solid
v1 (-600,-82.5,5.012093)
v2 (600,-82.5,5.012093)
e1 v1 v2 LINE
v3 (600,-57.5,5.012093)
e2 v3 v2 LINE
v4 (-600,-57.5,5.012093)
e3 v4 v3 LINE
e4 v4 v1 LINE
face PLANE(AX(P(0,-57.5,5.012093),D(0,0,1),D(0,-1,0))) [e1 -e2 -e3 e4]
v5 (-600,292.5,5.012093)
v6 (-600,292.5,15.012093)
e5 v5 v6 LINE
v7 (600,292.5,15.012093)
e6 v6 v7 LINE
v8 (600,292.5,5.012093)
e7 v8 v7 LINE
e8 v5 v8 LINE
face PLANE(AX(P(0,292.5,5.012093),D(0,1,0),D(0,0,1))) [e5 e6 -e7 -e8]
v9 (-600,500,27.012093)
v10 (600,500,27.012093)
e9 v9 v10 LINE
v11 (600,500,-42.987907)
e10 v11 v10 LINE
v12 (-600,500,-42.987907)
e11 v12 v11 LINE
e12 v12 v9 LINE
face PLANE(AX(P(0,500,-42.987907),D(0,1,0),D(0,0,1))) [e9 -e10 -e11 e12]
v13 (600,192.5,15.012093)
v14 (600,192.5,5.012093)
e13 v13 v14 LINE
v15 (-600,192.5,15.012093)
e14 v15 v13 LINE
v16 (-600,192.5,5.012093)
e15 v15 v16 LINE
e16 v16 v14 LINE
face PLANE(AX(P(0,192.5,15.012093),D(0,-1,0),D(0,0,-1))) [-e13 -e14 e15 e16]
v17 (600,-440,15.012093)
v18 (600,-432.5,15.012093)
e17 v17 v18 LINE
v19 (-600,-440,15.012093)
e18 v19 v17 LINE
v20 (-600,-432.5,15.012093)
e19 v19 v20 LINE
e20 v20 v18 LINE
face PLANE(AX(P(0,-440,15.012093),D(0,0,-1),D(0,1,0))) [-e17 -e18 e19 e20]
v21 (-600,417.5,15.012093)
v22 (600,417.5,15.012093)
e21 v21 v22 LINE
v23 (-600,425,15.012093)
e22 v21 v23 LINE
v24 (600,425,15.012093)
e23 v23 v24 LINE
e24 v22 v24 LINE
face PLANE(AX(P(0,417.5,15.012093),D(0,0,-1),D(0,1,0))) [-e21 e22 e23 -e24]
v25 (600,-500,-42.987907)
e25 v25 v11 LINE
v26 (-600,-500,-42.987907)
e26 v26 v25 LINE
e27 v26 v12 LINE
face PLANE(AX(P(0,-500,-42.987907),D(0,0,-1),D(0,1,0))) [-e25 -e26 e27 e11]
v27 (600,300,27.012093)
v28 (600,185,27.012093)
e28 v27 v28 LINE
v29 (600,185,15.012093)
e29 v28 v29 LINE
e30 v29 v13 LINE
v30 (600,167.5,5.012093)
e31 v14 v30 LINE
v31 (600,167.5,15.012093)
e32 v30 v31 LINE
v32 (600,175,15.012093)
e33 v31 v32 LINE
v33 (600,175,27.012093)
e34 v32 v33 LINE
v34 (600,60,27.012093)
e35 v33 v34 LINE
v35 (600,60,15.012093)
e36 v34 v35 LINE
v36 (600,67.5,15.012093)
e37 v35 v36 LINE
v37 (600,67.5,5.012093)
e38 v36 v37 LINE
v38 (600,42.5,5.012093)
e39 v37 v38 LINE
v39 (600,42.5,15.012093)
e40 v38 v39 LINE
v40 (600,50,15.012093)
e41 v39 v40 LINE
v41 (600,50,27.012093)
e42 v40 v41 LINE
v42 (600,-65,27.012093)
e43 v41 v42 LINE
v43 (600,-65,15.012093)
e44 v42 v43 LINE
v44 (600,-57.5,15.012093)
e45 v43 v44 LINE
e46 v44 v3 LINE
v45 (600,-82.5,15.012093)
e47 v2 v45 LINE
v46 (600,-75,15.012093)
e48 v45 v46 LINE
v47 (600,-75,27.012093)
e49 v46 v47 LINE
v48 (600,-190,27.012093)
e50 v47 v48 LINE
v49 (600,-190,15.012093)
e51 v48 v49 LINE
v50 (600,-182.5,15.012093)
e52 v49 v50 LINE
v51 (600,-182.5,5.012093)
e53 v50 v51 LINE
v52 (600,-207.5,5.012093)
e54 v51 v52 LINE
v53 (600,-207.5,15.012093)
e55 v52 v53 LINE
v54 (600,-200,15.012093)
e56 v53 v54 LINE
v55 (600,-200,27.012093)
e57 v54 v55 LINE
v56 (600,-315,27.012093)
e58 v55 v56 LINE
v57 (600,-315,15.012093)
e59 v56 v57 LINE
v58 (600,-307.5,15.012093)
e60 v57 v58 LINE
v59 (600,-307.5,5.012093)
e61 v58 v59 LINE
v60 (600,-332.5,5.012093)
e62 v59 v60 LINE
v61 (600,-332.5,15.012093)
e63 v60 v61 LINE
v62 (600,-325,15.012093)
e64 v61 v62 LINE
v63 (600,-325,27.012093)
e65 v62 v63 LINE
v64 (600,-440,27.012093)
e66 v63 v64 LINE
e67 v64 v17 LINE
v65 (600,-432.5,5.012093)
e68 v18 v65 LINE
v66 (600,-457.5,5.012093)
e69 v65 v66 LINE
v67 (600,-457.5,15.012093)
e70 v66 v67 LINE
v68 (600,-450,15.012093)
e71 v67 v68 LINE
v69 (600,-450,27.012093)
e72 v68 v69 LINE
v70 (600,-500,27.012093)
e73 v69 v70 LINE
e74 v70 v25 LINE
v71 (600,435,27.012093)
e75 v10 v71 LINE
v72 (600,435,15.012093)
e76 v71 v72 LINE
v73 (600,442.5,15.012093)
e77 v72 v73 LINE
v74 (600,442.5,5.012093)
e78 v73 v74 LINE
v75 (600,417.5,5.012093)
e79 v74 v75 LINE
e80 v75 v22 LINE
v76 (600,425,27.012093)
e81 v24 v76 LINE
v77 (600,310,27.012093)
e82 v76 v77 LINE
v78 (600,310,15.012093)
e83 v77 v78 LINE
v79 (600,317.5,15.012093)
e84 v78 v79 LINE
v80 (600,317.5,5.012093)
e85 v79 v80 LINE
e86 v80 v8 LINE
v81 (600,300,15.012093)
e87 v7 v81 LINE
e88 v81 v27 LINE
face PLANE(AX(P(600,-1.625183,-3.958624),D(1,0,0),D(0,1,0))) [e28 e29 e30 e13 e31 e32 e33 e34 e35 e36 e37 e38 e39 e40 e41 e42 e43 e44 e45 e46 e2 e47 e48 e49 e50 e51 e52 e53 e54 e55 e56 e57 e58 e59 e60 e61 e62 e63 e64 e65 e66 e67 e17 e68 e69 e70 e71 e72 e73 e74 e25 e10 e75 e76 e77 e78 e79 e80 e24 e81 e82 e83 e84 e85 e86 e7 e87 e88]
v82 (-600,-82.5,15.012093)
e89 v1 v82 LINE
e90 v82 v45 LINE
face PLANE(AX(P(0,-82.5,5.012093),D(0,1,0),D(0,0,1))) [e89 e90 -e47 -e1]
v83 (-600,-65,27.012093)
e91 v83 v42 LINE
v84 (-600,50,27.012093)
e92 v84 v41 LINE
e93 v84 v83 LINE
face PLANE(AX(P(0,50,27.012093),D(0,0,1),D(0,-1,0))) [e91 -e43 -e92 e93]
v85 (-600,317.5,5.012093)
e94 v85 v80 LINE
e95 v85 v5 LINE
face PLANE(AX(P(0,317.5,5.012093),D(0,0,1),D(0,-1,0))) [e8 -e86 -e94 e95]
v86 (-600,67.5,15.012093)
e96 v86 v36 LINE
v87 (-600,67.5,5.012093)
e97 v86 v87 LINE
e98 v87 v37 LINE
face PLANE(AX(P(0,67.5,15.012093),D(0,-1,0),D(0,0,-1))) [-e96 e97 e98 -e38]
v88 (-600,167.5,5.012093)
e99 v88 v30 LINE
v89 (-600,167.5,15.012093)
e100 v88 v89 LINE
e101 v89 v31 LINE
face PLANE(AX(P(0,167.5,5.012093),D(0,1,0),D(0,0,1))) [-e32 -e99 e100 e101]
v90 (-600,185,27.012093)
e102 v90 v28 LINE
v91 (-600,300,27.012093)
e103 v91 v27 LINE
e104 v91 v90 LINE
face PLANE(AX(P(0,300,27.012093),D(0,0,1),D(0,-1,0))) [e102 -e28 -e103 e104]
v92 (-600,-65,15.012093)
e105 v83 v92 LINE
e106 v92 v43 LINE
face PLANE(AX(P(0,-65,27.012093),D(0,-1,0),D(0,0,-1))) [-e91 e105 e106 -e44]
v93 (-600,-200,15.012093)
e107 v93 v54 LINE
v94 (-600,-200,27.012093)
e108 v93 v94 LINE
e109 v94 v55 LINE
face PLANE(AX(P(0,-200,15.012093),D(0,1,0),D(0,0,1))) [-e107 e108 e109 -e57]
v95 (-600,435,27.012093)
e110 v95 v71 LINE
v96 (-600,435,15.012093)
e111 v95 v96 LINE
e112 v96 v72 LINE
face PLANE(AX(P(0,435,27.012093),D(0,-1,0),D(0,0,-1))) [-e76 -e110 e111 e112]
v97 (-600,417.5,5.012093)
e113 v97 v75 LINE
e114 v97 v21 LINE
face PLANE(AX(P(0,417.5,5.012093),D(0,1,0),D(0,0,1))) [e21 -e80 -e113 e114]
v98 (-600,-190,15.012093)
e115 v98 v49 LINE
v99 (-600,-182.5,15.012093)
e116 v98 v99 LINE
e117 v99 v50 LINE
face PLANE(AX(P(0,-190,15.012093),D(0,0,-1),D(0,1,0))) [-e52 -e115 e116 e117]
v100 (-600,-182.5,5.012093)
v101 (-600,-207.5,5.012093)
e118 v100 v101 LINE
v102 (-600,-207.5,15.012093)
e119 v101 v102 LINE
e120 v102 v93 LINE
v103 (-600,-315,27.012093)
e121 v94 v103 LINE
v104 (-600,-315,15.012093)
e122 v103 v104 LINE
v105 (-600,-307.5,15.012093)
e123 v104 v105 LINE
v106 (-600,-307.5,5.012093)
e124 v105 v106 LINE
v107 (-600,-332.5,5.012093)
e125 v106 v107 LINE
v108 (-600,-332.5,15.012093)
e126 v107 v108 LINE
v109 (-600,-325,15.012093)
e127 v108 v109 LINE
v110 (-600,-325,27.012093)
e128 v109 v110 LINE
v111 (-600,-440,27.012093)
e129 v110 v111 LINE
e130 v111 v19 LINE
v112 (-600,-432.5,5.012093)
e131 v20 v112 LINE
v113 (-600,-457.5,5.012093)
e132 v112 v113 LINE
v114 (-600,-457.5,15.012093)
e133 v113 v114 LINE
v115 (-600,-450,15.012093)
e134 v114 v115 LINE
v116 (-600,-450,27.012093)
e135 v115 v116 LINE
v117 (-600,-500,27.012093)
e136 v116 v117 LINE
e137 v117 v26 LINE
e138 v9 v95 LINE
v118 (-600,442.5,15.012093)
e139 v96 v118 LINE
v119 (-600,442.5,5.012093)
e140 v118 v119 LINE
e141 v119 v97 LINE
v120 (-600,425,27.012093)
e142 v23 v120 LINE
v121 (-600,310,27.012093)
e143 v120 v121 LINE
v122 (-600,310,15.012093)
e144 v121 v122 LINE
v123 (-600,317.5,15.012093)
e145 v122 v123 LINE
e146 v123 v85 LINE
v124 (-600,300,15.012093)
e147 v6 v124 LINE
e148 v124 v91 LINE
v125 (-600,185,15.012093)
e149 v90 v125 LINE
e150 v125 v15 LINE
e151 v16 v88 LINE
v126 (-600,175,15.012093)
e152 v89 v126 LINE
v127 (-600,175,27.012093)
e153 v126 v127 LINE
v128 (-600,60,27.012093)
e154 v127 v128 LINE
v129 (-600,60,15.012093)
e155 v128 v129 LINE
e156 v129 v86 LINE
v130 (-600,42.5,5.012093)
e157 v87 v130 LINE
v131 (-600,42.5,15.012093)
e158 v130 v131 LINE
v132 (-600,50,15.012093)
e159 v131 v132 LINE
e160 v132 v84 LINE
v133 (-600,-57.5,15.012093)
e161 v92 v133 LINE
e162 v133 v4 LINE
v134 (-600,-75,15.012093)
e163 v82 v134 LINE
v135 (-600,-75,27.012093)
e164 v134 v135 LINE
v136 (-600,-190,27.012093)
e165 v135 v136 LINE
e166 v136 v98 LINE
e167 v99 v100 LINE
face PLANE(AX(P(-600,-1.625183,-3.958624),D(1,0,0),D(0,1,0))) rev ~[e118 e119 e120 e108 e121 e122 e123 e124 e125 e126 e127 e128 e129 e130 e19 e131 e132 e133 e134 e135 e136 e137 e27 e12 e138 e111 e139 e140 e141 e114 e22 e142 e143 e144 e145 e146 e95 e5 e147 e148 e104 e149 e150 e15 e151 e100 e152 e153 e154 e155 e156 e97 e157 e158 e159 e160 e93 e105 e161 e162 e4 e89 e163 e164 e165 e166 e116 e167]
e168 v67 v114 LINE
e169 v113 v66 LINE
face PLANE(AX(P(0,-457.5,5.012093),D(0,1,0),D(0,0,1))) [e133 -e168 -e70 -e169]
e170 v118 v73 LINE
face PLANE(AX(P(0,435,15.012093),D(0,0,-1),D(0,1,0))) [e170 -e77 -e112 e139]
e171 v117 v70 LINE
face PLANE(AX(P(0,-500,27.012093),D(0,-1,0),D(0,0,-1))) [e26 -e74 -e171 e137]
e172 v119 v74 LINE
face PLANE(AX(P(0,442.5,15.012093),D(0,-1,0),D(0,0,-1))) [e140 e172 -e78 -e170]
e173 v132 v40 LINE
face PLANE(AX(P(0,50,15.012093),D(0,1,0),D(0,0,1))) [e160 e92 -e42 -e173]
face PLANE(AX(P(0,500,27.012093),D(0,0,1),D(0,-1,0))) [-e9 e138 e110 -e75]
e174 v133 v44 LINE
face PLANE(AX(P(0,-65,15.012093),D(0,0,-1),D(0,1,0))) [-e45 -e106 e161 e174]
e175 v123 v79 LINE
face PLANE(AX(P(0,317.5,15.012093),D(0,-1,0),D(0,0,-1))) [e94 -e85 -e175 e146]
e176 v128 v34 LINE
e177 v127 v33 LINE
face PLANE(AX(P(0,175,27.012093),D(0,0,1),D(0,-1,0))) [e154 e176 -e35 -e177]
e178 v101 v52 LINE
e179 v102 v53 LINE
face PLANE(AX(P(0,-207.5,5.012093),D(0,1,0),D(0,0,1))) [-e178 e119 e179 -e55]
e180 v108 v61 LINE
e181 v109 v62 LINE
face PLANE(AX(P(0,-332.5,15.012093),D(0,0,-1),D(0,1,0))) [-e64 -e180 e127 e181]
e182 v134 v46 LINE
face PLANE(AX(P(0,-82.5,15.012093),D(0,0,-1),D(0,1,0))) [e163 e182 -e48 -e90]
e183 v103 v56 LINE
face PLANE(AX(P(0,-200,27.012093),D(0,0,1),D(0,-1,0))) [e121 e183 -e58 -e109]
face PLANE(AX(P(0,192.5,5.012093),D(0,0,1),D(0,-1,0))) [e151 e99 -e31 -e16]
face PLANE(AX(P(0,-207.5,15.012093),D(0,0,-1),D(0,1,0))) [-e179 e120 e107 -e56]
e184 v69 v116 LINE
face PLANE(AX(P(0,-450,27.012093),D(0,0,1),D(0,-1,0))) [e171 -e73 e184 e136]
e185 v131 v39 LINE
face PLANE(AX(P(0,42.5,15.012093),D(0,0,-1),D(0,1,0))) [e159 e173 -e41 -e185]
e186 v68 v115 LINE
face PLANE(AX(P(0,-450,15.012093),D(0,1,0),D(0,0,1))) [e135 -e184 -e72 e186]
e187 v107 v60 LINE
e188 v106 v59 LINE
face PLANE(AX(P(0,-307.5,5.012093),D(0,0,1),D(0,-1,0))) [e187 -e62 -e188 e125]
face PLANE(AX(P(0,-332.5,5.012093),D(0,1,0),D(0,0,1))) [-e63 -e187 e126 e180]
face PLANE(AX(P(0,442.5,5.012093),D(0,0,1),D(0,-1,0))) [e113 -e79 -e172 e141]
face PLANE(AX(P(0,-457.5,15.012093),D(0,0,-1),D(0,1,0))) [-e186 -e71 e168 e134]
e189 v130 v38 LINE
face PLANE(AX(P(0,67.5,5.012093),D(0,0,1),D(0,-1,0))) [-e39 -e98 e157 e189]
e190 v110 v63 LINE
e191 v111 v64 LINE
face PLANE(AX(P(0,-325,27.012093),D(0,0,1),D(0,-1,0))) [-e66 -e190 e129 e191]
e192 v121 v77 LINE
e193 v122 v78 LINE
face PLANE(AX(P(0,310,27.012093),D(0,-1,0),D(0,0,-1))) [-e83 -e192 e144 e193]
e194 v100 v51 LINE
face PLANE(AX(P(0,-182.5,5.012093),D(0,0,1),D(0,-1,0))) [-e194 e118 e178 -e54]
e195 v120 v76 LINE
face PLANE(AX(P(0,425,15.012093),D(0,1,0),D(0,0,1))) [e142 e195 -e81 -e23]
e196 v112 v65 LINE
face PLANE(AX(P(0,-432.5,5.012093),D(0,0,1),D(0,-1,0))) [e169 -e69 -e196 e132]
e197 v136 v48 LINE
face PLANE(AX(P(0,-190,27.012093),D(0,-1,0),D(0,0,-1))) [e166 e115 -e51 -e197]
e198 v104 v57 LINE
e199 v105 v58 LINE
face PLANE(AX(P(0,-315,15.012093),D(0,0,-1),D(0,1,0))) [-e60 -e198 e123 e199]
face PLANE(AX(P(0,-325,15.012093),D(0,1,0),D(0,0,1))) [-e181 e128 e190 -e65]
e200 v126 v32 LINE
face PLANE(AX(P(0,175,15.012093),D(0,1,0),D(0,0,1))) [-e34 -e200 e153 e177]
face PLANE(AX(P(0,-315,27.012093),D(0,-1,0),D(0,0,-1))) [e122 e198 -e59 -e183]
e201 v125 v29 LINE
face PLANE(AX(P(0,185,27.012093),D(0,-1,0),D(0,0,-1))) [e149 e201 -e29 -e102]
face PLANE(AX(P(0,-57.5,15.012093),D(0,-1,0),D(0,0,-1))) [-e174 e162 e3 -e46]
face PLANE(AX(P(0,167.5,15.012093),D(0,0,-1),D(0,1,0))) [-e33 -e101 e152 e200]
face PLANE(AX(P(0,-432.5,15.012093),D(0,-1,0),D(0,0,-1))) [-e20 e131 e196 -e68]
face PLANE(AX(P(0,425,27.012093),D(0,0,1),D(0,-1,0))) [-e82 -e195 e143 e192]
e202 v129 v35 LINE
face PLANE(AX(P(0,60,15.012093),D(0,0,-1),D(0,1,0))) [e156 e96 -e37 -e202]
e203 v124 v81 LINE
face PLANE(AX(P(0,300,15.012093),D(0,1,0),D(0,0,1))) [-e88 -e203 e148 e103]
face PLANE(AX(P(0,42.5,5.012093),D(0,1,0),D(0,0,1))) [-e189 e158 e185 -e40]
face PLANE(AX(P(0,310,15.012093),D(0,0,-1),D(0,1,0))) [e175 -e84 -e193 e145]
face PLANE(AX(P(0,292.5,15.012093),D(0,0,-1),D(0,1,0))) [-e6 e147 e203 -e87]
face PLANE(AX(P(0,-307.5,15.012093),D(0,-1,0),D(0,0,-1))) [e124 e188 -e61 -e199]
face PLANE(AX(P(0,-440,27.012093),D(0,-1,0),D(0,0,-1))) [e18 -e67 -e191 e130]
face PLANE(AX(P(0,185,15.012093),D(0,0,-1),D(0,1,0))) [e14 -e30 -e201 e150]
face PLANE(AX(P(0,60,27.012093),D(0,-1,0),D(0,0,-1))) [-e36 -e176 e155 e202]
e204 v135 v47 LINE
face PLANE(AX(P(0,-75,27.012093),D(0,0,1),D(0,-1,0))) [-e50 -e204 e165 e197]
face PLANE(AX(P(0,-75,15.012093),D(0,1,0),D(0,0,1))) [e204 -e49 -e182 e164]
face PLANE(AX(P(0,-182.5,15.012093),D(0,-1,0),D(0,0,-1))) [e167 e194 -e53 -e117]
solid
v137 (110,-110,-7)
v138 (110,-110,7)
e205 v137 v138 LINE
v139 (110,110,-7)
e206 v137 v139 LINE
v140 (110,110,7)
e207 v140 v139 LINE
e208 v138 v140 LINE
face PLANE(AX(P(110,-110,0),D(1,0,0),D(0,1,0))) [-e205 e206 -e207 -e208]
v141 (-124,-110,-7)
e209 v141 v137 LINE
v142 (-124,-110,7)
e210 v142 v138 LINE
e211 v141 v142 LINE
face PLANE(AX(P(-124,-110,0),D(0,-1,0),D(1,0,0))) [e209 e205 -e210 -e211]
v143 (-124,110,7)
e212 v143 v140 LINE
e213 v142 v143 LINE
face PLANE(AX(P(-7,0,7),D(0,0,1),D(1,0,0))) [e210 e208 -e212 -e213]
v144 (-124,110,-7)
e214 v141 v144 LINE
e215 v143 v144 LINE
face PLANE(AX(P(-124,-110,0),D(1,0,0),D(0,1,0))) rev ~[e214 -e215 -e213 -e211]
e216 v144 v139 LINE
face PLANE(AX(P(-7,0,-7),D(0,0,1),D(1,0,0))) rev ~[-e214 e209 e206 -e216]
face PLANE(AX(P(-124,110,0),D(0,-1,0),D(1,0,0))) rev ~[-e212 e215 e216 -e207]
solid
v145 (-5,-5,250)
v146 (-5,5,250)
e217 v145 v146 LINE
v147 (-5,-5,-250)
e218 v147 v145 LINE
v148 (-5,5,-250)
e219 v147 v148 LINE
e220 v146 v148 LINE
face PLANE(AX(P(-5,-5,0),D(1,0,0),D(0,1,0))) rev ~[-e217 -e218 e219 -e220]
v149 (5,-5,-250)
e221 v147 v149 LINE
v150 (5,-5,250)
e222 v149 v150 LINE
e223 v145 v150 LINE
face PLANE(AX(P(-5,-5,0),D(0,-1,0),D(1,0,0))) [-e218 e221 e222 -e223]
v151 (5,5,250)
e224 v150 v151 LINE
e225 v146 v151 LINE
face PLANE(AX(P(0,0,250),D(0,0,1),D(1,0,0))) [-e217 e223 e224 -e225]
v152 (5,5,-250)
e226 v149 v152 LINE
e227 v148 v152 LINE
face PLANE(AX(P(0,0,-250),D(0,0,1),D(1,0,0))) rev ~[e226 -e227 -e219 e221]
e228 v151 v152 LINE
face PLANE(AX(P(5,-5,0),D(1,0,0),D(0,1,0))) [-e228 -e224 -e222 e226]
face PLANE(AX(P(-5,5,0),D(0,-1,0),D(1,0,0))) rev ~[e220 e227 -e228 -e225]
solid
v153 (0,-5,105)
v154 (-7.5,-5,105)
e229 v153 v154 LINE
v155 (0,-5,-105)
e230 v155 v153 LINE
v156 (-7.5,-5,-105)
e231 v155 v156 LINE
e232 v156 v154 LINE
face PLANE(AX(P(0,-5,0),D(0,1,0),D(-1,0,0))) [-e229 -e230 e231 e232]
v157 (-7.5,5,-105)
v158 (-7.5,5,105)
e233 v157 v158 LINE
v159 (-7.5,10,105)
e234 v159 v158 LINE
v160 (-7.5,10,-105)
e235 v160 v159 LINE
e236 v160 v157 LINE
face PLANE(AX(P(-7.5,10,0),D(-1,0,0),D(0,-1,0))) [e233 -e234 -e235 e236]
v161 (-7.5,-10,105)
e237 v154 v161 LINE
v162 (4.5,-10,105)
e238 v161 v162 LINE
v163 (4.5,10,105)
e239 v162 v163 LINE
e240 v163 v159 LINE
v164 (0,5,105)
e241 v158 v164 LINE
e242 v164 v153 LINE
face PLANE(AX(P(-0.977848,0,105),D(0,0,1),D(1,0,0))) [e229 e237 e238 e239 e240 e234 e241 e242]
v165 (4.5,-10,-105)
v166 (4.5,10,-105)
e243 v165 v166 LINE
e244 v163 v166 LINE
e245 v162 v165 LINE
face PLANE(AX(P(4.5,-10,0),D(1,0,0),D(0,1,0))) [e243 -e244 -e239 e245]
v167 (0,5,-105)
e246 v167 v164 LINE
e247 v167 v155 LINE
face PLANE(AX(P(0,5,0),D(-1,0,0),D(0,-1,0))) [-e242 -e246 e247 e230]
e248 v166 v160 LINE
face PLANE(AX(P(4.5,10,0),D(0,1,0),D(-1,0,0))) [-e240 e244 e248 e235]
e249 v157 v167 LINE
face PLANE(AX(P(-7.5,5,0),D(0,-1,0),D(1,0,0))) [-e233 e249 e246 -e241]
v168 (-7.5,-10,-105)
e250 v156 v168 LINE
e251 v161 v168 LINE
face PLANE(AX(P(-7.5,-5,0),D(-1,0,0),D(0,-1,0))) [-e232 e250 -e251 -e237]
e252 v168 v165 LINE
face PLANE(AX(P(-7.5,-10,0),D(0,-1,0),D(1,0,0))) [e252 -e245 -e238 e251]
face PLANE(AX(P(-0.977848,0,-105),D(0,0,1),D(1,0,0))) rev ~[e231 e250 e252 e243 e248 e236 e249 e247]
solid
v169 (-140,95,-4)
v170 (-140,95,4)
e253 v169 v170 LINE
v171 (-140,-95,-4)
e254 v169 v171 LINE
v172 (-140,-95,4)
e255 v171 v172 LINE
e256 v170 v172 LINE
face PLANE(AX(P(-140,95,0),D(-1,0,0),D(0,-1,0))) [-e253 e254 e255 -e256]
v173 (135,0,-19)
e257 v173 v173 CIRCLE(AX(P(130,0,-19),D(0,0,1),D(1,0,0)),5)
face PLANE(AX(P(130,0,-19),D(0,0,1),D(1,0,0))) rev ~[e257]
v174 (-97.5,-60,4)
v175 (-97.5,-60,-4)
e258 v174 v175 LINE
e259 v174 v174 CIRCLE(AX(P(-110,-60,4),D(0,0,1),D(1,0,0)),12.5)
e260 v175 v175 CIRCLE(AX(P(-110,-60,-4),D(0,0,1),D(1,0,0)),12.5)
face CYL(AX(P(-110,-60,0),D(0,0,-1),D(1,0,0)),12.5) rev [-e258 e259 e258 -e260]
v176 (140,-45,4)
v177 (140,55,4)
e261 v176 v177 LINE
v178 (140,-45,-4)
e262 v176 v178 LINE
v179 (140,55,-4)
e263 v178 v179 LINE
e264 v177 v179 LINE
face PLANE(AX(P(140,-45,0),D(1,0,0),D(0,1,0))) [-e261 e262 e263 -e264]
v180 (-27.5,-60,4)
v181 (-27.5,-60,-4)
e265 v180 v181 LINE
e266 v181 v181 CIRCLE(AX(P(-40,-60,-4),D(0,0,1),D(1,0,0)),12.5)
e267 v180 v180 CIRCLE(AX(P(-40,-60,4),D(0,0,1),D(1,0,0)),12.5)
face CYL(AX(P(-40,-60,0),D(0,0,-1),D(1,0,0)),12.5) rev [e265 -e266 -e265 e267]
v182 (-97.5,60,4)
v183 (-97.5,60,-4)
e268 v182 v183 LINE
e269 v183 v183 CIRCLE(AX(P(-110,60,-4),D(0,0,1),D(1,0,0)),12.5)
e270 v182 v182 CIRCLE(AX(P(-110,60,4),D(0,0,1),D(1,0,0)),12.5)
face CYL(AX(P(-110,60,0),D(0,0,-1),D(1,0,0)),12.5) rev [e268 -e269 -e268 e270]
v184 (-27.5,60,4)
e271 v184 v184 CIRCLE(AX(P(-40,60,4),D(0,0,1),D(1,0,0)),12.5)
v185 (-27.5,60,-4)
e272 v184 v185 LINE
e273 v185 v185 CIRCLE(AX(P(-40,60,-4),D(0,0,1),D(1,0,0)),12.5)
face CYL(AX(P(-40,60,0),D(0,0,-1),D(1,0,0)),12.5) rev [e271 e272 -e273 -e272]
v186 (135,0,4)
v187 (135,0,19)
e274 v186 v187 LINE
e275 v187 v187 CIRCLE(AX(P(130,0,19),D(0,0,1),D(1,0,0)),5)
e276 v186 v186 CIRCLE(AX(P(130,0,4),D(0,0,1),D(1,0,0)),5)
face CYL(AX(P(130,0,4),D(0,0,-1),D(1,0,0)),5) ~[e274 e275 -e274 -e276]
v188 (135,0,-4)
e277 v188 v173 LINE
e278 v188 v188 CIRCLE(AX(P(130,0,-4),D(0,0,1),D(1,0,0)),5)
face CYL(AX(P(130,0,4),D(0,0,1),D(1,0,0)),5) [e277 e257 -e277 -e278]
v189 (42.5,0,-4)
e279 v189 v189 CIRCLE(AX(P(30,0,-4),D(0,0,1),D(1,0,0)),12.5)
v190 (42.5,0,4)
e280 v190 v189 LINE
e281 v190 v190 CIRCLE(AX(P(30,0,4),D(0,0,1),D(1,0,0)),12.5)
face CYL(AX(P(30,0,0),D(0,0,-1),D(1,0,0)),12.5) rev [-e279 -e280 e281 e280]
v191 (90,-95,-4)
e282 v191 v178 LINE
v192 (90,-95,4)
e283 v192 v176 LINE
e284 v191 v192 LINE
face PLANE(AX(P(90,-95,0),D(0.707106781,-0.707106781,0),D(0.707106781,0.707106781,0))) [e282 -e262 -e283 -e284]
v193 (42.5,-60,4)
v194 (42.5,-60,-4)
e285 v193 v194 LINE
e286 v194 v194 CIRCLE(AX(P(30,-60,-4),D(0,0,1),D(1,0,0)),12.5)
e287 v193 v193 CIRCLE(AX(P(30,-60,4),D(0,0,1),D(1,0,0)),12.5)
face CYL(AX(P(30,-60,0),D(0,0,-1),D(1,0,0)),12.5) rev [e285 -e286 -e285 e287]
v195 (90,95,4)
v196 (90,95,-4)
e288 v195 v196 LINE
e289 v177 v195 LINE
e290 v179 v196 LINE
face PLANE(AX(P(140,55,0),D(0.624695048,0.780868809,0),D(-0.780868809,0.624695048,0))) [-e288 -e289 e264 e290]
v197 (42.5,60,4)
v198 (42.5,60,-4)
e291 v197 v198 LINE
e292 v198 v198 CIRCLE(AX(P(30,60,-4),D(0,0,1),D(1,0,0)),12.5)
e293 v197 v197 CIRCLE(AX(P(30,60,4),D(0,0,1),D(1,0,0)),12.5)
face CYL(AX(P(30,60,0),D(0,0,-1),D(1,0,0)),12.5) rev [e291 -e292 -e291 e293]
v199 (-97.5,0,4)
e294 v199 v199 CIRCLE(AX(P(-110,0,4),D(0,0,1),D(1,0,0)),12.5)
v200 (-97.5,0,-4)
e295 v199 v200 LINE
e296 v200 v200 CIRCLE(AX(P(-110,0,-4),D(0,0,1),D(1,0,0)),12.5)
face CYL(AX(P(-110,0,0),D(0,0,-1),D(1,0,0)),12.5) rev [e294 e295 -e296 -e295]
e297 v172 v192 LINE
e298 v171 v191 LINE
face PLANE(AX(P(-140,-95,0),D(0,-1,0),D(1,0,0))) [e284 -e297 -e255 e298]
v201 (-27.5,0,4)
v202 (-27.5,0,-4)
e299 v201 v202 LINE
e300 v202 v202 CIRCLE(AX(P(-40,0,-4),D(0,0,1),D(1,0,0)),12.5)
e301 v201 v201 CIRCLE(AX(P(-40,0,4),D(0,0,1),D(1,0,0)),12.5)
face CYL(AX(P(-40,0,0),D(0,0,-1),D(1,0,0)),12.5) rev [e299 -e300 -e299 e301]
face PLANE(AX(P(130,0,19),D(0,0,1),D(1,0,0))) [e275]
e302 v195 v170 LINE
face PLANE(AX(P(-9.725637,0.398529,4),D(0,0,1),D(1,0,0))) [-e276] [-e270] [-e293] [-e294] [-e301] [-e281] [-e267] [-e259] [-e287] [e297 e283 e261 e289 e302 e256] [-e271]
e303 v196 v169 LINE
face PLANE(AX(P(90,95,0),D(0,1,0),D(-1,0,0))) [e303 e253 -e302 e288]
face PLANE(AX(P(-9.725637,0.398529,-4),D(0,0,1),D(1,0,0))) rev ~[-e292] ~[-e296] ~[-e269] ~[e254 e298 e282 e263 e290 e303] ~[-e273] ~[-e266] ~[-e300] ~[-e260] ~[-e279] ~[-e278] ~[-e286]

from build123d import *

# Parameters (mm, degrees)
F1_DEPTH       = 600
F1_DEPTH_BACK  = 600
F2_R           = 12.5
F2_R_2         = 5
F3_DEPTH       = 4
F3_DEPTH_BACK  = 4
F4_R           = 5
F5_DEPTH       = 15
F5_DEPTH_BACK  = 23
F6_W           = 10
F6_H           = 10
F7_DEPTH       = 250
F7_DEPTH_BACK  = 250
F9_DEPTH       = 105
F9_DEPTH_BACK  = 105
F10_W          = 234
F10_H          = 220
F11_DEPTH      = 7
F11_DEPTH_BACK = 7


with BuildPart() as f1:
    # F0 (on Right) → F1 (new body, two sides)
    with BuildSketch(Plane.YZ) as f1_sk:
        Polygon((-450, 27.012093), (-500, 27.012093), (-500, -42.987907), (500, -42.987907), (500, 27.012093), (435, 27.012093), (435, 15.012093), (442.5, 15.012093), (442.5, 5.012093), (417.5, 5.012093), (417.5, 15.012093), (425, 15.012093), (425, 27.012093), (375, 27.012093), (310, 27.012093), (310, 15.012093), (317.5, 15.012093), (317.5, 5.012093), (292.5, 5.012093), (292.5, 15.012093), (300, 15.012093), (300, 27.012093), (250, 27.012093), (185, 27.012093), (185, 15.012093), (192.5, 15.012093), (192.5, 5.012093), (167.5, 5.012093), (167.5, 15.012093), (175, 15.012093), (175, 27.012093), (125, 27.012093), (60, 27.012093), (60, 15.012093), (67.5, 15.012093), (67.5, 5.012093), (42.5, 5.012093), (42.5, 15.012093), (50, 15.012093), (50, 27.012093), (0, 27.012093), (-65, 27.012093), (-65, 15.012093), (-57.5, 15.012093), (-57.5, 5.012093), (-82.5, 5.012093), (-82.5, 15.012093), (-75, 15.012093), (-75, 27.012093), (-125, 27.012093), (-190, 27.012093), (-190, 15.012093), (-182.5, 15.012093), (-182.5, 5.012093), (-207.5, 5.012093), (-207.5, 15.012093), (-200, 15.012093), (-200, 27.012093), (-250, 27.012093), (-315, 27.012093), (-315, 15.012093), (-307.5, 15.012093), (-307.5, 5.012093), (-332.5, 5.012093), (-332.5, 15.012093), (-325, 15.012093), (-325, 27.012093), (-375, 27.012093), (-440, 27.012093), (-440, 15.012093), (-432.5, 15.012093), (-432.5, 5.012093), (-457.5, 5.012093), (-457.5, 15.012093), (-450, 15.012093), align=None)
    extrude(amount=F1_DEPTH)
    extrude(f1_sk.sketch, amount=-F1_DEPTH_BACK)


with BuildPart() as f3:
    # F2 (on Top) → F3 (new body, two sides)
    with BuildSketch(Plane.XY) as f3_sk:
        Polygon((90, 95), (-140, 95), (-140, -95), (90, -95), (140, -45), (140, 55), align=None)
        with Locations((-110, -60)):
            Circle(F2_R, mode=Mode.SUBTRACT)
        with Locations((-40, -60)):
            Circle(F2_R, mode=Mode.SUBTRACT)
        with Locations((30, -60)):
            Circle(F2_R, mode=Mode.SUBTRACT)
        with Locations((-110, 0)):
            Circle(F2_R, mode=Mode.SUBTRACT)
        with Locations((-40, 0)):
            Circle(F2_R, mode=Mode.SUBTRACT)
        with Locations((-110, 60)):
            Circle(F2_R, mode=Mode.SUBTRACT)
        with Locations((-40, 60)):
            Circle(F2_R, mode=Mode.SUBTRACT)
        with Locations((30, 0)):
            Circle(F2_R, mode=Mode.SUBTRACT)
        with Locations((130, 0)):
            Circle(F2_R_2, mode=Mode.SUBTRACT)
        with Locations((30, 60)):
            Circle(F2_R, mode=Mode.SUBTRACT)
    extrude(amount=F3_DEPTH)
    extrude(f3_sk.sketch, amount=-F3_DEPTH_BACK)

    # F4 (on face) → F5 (join, two sides)
    with BuildSketch(Plane.XY.offset(4)) as f5_sk:
        with Locations((130, 0)):
            Circle(F4_R)
    extrude(amount=F5_DEPTH)
    extrude(f5_sk.sketch, amount=-F5_DEPTH_BACK)


with BuildPart() as f7:
    # F6 (on Top) → F7 (new body, two sides)
    with BuildSketch(Plane.XY) as f7_sk:
        Rectangle(F6_W, F6_H)
    extrude(amount=F7_DEPTH)
    extrude(f7_sk.sketch, amount=-F7_DEPTH_BACK)


with BuildPart() as f9:
    # F8 (on Top) → F9 (new body, two sides)
    with BuildSketch(Plane.XY) as f9_sk:
        Polygon((4.5, 10), (-7.5, 10), (-7.5, 5), (0, 5), (0, -5), (-7.5, -5), (-7.5, -10), (4.5, -10), align=None)
    extrude(amount=F9_DEPTH)
    extrude(f9_sk.sketch, amount=-F9_DEPTH_BACK)


with BuildPart() as f11:
    # F10 (on Top) → F11 (new body, two sides)
    with BuildSketch(Plane.XY) as f11_sk:
        with Locations((-7, 0)):
            Rectangle(F10_W, F10_H)
    extrude(amount=F11_DEPTH)
    extrude(f11_sk.sketch, amount=-F11_DEPTH_BACK)


solid = Compound([f1.part, f3.part, f7.part, f9.part, f11.part])
